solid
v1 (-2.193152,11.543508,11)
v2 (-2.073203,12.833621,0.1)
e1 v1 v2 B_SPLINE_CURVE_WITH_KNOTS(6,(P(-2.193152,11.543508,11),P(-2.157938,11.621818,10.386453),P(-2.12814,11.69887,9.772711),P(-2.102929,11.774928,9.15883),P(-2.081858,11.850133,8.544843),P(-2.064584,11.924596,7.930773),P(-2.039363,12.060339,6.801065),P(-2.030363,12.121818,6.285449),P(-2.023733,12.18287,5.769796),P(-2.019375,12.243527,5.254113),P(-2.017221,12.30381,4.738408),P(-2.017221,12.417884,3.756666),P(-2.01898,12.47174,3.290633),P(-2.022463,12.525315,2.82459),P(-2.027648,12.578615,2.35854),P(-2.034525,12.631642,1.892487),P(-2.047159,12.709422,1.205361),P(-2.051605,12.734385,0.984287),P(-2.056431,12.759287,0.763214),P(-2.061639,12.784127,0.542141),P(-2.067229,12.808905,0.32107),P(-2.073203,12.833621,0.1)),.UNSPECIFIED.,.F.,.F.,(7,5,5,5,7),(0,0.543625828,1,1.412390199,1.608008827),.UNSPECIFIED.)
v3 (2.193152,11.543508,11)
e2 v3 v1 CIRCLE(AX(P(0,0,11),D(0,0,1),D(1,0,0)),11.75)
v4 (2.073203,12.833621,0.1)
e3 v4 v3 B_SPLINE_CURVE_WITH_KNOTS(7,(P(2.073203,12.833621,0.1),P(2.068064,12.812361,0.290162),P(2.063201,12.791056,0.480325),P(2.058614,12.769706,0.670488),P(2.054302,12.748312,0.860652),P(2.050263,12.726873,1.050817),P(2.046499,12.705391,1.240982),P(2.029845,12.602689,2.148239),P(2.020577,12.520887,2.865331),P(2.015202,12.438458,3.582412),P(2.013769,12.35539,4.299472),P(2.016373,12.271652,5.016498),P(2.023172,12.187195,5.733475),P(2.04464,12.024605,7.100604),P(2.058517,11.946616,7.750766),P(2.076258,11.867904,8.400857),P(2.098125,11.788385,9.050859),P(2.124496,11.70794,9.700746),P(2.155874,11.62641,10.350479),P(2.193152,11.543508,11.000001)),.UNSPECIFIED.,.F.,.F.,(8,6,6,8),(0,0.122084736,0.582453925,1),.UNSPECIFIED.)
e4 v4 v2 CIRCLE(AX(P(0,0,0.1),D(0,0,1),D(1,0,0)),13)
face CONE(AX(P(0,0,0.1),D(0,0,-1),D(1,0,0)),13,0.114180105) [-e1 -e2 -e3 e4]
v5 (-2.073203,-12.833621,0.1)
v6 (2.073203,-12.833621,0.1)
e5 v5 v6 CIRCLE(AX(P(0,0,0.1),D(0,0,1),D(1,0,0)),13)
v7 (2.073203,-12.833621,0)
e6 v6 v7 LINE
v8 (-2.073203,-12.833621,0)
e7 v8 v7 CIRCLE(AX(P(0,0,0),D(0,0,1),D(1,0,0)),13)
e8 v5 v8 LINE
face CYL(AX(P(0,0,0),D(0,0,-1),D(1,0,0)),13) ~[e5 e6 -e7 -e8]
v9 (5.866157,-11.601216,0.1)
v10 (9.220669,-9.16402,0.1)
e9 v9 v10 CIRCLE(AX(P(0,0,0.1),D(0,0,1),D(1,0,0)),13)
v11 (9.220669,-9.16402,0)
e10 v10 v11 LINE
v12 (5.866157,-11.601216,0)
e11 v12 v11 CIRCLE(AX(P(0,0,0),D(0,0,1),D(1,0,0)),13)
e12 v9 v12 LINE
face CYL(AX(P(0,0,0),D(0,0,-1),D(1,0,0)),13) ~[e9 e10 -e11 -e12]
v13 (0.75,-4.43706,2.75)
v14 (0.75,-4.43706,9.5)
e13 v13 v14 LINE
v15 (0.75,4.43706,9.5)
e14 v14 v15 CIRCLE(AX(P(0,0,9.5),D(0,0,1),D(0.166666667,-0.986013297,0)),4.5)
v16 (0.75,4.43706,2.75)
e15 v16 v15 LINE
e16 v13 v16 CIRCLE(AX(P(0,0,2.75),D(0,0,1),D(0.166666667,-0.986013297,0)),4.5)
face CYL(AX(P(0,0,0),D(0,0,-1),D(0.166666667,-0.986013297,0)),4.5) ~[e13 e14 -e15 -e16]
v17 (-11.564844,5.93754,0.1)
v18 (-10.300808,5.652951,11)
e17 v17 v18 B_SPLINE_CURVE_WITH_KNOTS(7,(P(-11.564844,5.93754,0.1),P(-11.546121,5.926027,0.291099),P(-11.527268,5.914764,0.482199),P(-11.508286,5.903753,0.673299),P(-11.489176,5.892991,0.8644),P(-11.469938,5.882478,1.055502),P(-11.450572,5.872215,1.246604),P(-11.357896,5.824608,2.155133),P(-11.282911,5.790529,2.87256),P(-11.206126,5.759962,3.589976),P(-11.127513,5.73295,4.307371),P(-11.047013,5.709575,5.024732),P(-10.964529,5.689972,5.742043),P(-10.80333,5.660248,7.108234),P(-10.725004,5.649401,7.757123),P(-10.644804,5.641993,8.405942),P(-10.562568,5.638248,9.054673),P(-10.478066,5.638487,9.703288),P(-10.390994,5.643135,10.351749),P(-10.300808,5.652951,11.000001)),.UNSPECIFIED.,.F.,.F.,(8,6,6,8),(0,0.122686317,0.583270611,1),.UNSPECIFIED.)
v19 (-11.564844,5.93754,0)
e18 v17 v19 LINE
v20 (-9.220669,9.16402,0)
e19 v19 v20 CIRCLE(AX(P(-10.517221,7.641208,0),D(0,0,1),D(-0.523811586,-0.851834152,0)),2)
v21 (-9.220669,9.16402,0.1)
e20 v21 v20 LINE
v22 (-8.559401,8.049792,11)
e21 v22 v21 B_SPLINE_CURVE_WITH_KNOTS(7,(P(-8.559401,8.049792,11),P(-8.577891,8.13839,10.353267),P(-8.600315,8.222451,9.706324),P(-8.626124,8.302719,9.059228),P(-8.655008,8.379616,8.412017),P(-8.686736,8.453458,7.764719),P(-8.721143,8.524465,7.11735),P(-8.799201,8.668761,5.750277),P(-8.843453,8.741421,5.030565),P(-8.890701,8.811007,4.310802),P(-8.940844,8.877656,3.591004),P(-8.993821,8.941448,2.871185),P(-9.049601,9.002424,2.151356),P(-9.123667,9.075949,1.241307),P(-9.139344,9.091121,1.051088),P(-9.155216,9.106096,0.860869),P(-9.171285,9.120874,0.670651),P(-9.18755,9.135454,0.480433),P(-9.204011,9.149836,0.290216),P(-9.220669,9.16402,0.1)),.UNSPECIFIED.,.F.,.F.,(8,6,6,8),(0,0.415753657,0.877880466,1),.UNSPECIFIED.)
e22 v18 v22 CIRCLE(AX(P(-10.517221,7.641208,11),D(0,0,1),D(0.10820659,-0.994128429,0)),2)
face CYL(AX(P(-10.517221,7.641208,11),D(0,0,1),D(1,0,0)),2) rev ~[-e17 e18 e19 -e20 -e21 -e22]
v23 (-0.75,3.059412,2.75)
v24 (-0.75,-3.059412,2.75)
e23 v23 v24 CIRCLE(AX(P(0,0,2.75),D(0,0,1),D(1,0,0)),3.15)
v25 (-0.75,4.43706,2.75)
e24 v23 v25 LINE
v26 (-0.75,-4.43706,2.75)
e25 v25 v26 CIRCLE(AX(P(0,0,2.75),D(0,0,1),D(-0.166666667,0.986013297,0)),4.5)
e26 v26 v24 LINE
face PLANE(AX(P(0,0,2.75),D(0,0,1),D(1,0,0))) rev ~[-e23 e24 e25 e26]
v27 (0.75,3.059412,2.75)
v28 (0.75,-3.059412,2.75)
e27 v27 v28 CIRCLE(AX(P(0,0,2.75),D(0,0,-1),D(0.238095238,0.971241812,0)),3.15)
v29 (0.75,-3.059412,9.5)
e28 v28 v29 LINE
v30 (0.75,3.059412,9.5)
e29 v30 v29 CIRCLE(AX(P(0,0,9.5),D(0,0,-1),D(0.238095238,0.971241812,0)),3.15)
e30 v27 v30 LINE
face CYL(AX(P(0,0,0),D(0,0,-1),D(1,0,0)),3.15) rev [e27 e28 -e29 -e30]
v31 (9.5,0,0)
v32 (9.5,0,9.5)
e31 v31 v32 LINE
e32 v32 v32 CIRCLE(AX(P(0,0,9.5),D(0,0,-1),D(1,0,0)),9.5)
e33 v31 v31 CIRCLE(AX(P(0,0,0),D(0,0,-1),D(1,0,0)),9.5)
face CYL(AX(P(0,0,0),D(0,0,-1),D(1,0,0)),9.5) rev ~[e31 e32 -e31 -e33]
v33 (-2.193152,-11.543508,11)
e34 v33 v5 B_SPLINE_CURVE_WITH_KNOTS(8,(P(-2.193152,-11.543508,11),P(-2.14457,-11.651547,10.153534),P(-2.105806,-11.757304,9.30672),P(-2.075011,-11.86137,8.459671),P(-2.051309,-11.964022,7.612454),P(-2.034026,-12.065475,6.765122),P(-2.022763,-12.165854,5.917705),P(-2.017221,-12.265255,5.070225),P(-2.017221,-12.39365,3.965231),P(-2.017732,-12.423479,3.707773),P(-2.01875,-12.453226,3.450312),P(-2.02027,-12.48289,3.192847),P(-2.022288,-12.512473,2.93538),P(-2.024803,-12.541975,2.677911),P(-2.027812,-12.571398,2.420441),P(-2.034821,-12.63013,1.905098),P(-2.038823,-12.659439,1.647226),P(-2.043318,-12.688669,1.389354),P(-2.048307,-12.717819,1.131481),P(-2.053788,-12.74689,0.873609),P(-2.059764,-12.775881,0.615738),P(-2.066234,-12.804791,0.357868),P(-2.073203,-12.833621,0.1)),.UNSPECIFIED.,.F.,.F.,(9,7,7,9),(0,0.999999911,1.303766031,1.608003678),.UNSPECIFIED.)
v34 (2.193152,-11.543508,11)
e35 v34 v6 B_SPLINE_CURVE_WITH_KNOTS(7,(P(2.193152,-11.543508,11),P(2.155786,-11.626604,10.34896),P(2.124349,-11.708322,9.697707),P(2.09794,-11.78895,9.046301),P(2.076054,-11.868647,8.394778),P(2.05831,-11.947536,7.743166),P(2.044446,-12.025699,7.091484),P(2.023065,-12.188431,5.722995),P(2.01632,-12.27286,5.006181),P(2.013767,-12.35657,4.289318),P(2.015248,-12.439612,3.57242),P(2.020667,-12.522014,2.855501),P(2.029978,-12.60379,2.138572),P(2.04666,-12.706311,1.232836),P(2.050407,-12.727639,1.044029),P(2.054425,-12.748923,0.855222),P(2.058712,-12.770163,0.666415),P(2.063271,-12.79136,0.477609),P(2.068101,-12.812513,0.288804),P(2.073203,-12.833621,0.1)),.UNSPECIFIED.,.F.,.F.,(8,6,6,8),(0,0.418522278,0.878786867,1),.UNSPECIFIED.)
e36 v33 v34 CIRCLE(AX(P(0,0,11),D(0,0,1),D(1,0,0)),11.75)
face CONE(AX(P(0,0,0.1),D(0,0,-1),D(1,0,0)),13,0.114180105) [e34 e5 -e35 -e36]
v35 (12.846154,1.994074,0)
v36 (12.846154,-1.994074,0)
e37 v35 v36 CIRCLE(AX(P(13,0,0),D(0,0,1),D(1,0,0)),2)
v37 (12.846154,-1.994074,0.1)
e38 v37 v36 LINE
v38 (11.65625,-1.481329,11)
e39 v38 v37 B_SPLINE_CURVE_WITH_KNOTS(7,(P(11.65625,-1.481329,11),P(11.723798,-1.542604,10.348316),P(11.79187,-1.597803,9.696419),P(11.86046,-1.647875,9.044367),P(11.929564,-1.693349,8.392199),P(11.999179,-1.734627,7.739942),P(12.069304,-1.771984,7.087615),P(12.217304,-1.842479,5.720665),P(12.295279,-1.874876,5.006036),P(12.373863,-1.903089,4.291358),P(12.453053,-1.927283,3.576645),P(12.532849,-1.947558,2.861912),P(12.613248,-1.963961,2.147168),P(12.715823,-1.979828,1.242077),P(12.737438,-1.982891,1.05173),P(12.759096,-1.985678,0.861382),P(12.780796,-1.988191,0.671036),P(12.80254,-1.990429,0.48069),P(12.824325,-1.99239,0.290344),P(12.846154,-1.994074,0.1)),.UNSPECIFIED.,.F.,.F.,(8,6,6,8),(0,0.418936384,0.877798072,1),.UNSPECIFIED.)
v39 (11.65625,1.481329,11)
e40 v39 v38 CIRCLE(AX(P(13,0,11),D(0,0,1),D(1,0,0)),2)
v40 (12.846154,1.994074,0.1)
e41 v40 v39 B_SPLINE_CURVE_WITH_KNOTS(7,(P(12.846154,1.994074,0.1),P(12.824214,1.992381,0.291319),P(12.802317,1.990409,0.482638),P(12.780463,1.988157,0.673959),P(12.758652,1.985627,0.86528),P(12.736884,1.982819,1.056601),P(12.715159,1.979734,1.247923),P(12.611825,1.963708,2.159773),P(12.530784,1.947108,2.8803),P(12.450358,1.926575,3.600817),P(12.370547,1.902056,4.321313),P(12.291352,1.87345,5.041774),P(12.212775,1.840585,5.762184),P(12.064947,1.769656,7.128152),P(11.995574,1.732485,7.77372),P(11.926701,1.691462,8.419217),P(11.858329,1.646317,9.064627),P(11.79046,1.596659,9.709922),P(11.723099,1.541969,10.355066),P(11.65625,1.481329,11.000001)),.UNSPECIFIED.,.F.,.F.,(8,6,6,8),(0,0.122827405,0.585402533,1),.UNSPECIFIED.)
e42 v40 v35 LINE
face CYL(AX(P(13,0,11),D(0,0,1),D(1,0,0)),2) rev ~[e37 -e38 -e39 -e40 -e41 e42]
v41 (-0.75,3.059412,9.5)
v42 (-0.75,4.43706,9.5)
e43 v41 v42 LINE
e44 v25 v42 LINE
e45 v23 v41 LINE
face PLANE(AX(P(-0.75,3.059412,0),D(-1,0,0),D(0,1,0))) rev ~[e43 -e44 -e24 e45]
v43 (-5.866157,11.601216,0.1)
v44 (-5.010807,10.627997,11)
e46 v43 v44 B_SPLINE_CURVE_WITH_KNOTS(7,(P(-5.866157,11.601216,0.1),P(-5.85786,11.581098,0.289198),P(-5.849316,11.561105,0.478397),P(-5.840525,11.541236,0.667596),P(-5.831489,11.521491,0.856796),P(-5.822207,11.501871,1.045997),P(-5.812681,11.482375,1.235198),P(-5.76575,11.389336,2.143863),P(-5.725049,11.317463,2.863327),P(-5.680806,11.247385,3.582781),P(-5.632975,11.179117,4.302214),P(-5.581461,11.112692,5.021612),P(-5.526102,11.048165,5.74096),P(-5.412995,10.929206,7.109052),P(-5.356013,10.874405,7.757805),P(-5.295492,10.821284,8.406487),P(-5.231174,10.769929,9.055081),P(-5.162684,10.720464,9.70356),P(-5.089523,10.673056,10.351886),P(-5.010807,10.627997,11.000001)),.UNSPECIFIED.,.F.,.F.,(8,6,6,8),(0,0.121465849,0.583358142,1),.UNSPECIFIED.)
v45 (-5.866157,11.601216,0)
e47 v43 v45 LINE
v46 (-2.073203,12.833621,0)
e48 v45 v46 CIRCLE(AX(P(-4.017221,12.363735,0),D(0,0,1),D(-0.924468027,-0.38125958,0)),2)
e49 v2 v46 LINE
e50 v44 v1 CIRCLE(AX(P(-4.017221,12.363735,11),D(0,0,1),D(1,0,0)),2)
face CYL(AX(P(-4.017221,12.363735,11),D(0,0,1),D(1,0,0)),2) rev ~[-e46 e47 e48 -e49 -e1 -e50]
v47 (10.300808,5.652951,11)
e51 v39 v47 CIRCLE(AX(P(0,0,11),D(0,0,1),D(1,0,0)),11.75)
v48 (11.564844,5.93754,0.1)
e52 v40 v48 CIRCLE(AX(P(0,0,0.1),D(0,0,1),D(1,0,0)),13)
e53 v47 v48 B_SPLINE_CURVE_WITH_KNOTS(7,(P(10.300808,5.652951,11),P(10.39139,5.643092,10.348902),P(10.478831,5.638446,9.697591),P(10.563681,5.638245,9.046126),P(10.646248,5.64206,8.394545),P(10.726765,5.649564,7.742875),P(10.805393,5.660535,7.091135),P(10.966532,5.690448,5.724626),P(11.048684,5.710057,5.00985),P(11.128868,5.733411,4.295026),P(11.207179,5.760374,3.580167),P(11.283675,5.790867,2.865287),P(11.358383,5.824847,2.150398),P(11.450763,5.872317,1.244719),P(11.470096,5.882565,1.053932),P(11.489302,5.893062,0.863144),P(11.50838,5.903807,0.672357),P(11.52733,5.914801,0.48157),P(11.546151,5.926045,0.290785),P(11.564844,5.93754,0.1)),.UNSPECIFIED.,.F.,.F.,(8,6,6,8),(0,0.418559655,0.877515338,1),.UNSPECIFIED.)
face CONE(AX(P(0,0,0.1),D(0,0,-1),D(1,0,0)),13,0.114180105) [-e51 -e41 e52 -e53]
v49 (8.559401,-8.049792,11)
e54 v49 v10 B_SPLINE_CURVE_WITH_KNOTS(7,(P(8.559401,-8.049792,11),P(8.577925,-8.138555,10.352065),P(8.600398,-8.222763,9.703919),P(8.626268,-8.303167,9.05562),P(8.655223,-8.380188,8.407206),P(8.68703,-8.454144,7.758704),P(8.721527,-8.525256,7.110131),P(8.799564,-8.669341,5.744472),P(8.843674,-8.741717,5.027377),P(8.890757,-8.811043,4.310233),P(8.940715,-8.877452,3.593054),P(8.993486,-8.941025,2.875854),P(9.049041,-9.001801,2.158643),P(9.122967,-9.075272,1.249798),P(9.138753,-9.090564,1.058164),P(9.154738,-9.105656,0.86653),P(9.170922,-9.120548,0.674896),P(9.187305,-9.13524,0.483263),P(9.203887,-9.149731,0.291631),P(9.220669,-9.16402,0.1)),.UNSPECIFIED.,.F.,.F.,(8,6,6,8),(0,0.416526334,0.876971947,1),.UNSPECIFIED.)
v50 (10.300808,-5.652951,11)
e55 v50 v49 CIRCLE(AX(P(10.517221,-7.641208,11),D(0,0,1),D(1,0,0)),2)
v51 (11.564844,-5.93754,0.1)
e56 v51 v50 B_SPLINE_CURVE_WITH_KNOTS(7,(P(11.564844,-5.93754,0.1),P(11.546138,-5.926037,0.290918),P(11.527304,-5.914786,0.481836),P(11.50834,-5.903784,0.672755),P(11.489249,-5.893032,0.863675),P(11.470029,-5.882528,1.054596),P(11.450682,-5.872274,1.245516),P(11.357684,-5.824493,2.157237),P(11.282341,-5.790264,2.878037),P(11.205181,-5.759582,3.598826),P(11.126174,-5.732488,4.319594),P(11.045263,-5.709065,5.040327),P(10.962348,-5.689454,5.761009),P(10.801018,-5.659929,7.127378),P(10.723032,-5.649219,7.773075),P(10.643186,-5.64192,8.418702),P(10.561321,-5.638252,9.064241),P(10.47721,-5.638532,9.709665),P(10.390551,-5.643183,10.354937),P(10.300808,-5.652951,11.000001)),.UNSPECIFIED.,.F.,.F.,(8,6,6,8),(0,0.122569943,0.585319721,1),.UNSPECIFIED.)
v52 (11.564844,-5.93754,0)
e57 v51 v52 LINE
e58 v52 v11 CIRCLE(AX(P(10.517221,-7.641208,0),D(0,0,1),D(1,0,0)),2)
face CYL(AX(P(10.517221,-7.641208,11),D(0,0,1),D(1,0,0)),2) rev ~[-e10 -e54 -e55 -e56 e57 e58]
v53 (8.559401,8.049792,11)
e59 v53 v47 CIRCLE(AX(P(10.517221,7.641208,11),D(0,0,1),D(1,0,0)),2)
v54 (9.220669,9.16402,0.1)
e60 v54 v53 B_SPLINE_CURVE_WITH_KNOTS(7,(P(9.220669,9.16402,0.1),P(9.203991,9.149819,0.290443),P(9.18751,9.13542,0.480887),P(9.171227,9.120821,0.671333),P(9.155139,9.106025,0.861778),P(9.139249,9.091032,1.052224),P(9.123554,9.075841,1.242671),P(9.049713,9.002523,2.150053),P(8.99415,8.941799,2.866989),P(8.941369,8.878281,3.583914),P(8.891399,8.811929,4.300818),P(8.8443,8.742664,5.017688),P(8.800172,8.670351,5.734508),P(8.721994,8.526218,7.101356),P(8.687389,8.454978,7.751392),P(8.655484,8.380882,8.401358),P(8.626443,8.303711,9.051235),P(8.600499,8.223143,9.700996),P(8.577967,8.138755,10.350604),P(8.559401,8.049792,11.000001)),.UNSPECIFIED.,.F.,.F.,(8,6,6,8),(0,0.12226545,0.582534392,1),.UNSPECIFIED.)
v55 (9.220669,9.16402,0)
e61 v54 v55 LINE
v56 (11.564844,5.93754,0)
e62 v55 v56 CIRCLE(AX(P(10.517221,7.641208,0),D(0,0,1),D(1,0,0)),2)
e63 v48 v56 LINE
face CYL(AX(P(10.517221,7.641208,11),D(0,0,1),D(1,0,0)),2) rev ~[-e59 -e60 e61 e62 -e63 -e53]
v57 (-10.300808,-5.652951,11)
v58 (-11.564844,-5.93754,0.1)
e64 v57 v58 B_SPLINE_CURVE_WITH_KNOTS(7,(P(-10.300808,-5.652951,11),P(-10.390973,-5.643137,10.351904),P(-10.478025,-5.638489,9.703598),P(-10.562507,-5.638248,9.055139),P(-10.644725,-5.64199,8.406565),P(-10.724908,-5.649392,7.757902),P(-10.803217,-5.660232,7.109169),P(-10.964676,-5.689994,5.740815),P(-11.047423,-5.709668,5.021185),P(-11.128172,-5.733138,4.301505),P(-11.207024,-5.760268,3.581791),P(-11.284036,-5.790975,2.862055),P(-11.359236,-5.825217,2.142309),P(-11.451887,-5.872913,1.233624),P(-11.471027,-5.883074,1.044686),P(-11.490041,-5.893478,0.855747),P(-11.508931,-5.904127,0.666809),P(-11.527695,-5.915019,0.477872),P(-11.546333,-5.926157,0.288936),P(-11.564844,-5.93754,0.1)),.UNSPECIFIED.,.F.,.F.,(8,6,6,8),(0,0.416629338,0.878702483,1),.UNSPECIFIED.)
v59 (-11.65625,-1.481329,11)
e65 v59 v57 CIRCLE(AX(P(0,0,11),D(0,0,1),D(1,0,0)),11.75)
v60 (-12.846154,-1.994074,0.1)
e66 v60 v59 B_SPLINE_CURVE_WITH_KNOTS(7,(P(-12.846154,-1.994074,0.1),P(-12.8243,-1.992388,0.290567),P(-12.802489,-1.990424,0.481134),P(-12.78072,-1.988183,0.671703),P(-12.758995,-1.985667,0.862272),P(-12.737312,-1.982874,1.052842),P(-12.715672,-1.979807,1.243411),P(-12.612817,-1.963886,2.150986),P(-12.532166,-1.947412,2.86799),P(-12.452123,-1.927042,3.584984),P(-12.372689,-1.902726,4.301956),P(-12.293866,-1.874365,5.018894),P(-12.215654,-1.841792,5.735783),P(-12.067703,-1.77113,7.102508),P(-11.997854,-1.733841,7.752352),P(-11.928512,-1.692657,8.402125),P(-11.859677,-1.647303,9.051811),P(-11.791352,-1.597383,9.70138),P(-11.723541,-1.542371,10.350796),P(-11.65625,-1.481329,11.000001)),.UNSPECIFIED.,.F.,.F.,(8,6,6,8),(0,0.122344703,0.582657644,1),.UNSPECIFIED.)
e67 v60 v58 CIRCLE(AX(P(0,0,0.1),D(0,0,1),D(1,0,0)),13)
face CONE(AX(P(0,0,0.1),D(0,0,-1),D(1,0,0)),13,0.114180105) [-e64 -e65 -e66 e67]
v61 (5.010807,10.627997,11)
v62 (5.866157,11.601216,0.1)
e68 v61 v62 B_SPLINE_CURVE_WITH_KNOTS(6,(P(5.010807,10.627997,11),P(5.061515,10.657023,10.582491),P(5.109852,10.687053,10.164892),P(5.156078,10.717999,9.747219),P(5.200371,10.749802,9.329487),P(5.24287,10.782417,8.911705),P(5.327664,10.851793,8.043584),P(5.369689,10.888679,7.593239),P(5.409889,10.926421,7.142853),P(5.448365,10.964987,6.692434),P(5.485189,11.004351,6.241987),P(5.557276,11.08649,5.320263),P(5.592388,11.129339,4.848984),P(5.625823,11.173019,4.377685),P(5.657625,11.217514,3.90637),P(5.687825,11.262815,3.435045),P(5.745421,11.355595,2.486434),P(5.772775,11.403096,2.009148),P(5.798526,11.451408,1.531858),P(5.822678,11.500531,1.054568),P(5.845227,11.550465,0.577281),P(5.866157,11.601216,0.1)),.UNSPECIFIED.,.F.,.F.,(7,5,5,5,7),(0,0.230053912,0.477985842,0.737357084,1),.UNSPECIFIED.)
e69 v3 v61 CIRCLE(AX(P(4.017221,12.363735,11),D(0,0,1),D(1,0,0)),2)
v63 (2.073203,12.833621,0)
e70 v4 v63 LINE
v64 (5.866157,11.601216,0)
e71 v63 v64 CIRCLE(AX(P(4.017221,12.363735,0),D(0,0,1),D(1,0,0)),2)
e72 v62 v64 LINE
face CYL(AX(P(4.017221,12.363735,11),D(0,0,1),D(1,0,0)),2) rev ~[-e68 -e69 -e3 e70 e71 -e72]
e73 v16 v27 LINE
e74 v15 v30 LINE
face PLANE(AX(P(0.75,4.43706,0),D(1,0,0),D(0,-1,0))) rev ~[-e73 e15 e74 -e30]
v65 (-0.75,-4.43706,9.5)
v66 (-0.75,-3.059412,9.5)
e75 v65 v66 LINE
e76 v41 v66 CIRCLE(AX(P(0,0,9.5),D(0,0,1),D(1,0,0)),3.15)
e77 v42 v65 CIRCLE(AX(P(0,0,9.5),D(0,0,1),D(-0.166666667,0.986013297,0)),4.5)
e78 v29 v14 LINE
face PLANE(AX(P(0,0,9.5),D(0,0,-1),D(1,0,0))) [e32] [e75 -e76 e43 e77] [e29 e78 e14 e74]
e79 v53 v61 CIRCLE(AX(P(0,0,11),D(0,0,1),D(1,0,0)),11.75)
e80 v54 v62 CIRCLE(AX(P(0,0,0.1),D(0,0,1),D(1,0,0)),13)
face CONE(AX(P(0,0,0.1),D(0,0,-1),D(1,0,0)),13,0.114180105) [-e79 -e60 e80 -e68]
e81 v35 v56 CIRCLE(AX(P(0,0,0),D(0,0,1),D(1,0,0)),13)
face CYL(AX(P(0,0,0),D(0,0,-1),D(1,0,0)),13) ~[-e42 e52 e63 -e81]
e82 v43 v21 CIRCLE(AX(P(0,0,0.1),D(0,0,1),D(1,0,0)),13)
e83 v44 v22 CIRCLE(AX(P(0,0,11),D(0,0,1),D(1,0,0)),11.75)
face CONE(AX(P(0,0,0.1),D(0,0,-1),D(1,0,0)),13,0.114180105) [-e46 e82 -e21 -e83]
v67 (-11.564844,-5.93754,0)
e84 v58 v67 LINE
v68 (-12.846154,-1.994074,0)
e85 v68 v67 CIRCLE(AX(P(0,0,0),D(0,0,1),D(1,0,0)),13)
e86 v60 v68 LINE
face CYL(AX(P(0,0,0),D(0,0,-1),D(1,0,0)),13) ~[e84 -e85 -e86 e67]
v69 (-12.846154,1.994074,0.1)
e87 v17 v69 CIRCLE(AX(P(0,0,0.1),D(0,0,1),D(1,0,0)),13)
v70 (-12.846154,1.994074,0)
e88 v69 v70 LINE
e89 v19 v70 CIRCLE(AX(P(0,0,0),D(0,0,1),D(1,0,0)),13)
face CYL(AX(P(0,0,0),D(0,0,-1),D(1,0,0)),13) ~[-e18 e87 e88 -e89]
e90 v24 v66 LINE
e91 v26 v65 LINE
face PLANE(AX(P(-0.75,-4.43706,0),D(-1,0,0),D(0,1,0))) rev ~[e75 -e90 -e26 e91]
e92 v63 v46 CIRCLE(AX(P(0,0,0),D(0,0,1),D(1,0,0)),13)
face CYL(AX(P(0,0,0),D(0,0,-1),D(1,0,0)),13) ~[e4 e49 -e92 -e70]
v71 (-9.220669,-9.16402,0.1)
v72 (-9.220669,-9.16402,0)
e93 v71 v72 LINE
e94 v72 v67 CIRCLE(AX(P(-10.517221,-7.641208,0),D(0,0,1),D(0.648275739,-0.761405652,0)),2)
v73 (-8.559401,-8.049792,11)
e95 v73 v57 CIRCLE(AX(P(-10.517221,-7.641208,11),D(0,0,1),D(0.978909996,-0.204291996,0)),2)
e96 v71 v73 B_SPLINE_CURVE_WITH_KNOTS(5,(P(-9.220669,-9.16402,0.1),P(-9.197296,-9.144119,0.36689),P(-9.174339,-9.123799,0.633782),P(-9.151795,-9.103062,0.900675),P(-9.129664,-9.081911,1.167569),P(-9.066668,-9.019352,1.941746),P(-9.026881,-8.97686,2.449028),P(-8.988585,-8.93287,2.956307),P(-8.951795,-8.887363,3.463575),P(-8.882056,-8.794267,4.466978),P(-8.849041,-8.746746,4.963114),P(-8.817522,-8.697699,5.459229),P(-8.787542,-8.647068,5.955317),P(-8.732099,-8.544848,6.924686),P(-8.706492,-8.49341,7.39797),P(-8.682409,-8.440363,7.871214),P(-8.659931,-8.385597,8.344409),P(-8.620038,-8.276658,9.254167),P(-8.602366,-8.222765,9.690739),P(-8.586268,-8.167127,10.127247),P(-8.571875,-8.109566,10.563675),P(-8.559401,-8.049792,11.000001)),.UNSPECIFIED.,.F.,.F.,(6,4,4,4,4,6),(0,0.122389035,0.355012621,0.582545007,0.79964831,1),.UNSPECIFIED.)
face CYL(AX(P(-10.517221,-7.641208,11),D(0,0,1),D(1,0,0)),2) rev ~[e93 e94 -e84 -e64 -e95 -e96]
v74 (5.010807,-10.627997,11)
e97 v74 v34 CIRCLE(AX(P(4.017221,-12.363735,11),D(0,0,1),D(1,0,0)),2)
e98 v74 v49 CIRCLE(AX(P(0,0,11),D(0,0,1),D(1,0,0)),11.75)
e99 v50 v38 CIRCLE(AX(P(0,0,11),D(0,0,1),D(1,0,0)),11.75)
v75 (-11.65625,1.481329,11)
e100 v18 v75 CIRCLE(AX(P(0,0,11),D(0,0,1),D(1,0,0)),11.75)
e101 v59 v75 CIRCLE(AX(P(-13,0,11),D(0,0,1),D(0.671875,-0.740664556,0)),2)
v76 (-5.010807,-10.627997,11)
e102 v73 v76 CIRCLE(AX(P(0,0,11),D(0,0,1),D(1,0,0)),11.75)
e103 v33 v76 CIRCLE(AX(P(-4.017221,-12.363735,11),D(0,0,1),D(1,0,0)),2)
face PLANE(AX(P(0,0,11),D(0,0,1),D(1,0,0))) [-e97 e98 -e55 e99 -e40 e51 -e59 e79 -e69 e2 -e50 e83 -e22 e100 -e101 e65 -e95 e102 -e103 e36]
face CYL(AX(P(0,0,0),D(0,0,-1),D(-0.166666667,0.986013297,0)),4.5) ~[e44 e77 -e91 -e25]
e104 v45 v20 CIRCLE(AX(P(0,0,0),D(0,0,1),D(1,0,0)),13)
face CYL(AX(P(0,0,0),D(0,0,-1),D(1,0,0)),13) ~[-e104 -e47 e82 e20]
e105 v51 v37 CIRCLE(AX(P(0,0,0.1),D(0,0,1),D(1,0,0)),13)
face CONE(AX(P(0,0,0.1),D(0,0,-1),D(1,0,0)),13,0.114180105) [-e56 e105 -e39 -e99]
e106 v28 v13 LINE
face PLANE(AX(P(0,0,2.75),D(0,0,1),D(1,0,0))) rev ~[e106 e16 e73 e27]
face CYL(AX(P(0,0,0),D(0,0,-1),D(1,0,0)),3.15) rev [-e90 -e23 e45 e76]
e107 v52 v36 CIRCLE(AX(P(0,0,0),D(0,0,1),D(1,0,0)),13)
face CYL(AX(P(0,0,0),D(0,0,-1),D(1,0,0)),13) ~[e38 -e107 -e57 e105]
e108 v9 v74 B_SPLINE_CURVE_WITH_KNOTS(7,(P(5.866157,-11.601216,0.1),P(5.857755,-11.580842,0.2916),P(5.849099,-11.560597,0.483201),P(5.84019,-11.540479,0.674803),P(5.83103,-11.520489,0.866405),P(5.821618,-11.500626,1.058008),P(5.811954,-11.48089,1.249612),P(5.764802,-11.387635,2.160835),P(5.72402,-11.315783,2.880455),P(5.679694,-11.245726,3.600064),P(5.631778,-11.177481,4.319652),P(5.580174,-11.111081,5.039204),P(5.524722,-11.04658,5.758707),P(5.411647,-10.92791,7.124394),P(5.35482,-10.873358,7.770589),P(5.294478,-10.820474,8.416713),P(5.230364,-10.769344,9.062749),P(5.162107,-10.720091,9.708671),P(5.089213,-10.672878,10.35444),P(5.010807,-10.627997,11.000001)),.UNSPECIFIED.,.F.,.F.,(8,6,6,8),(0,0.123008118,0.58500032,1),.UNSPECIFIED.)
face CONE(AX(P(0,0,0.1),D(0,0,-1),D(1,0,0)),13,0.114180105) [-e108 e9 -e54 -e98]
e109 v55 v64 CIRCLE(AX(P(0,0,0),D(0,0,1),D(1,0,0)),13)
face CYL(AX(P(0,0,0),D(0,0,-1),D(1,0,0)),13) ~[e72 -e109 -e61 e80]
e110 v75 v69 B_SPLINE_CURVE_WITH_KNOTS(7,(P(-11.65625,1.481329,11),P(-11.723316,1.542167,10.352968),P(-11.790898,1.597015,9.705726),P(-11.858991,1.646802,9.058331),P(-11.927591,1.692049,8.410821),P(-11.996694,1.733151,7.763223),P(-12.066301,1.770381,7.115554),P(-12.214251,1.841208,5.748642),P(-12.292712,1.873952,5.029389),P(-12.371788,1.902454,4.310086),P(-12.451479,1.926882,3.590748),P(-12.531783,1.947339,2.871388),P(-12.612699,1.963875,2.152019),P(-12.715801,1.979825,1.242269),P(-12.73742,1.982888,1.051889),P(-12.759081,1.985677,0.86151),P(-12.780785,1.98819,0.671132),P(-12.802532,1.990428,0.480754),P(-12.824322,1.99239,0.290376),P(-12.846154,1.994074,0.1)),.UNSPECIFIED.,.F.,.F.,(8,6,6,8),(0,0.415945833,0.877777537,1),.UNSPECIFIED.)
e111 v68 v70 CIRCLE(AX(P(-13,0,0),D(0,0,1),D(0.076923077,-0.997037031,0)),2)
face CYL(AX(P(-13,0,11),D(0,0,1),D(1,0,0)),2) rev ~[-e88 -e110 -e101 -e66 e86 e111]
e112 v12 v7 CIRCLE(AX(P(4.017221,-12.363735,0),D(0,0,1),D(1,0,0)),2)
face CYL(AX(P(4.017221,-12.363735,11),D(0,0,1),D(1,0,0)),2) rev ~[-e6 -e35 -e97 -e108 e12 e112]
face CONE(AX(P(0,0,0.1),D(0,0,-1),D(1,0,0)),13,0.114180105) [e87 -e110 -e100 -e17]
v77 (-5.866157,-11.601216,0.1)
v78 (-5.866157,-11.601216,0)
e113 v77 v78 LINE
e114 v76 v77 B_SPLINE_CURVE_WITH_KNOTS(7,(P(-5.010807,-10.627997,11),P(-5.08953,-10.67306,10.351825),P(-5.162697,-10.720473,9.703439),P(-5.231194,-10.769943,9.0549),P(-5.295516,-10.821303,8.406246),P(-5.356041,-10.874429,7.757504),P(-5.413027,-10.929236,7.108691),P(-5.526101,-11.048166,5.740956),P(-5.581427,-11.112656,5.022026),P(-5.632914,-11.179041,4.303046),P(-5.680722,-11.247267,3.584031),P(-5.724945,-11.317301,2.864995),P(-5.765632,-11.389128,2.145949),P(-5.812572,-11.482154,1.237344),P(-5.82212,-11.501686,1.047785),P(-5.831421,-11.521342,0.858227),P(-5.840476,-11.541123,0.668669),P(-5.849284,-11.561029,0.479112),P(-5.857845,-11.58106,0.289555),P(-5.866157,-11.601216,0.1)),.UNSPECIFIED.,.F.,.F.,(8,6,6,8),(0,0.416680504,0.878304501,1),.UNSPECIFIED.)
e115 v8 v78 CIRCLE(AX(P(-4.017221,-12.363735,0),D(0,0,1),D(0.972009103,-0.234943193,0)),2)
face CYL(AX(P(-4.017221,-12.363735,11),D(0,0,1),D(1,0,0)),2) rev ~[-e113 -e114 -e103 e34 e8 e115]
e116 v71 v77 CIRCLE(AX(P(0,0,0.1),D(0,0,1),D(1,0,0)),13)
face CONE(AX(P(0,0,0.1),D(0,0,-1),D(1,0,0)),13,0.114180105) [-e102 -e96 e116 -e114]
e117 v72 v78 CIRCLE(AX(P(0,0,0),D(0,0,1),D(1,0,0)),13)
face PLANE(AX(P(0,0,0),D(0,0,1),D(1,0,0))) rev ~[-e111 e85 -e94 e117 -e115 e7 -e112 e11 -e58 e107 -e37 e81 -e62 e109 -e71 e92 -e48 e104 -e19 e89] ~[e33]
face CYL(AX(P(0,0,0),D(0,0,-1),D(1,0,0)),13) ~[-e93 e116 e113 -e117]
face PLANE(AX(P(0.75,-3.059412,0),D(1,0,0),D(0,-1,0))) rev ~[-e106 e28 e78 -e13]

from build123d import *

# Parameters (mm, degrees)
F0_R      = 13
F0_R_2    = 11.75
F0_R_3    = 3.15
F3_DEPTH  = 0.1
F3_FACE_R = 13
F2_R      = 11.75
F5_DEPTH  = 9.5
F6_R      = 2
F7_DEPTH  = 25
F8_DEPTH  = 11.0010001
F9_R      = 9.5
F10_DEPTH = 9.5
F11_DEPTH = 2.75


with BuildPart() as f3:
    # F0 (on Top) → F3 (new body)
    with BuildSketch(Plane.XY):
        Circle(F0_R)
        Circle(F0_R_2, mode=Mode.SUBTRACT)
        Circle(F0_R_2)
        Circle(F0_R_3, mode=Mode.SUBTRACT)
        Circle(F0_R_3)
    extrude(amount=F3_DEPTH)

    # F3_face (on face) → F4 section 0
    with BuildSketch(Plane.XY.offset(0.1)):
        Circle(F3_FACE_R)
    # F2 (on offset) → F4 section 1
    with BuildSketch(Plane.XY.offset(11)):
        Circle(F2_R)
    loft()

    # F0 (on Top) → F5 (cut)
    with BuildSketch(Plane.XY):
        Circle(F0_R_3)
    extrude(amount=F5_DEPTH, mode=Mode.SUBTRACT)

    # F6 (on face) → F7 (cut)
    with BuildSketch(Plane.XY.offset(11)):
        with Locations((13, 0)):
            Circle(F6_R)
        with Locations((10.5172209269, 7.6412082798)):
            Circle(F6_R)
        with Locations((4.0172209269, 12.3637347118)):
            Circle(F6_R)
        with Locations((-4.0172209269, 12.3637347118)):
            Circle(F6_R)
        with Locations((-10.5172209269, 7.6412082798)):
            Circle(F6_R)
        with Locations((-13, 0)):
            Circle(F6_R)
        with Locations((-10.5172209269, -7.6412082798)):
            Circle(F6_R)
        with Locations((-4.0172209269, -12.3637347118)):
            Circle(F6_R)
        with Locations((4.0172209269, -12.3637347118)):
            Circle(F6_R)
        with Locations((10.5172209269, -7.6412082798)):
            Circle(F6_R)
    extrude(amount=-F7_DEPTH, mode=Mode.SUBTRACT)

    # F6 (on face) → F8 (cut, through all)
    with BuildSketch(Plane.XY.offset(11)):
        with Locations((13, 0)):
            Circle(F6_R)
        with Locations((10.5172209269, 7.6412082798)):
            Circle(F6_R)
        with Locations((4.0172209269, 12.3637347118)):
            Circle(F6_R)
        with Locations((-4.0172209269, 12.3637347118)):
            Circle(F6_R)
        with Locations((-10.5172209269, 7.6412082798)):
            Circle(F6_R)
        with Locations((-13, 0)):
            Circle(F6_R)
        with Locations((-10.5172209269, -7.6412082798)):
            Circle(F6_R)
        with Locations((-4.0172209269, -12.3637347118)):
            Circle(F6_R)
        with Locations((4.0172209269, -12.3637347118)):
            Circle(F6_R)
        with Locations((10.5172209269, -7.6412082798)):
            Circle(F6_R)
    extrude(amount=-F8_DEPTH, mode=Mode.SUBTRACT)

    # F9 (on face) → F10 (cut)
    with BuildSketch(Plane(origin=(0, 0, 0), x_dir=(1, 0, 0), z_dir=(0, 0, -1))):
        Circle(F9_R)
        with BuildLine():
            ThreePointArc((0.75, 4.4370598373), (4.5, 0), (0.75, -4.4370598373))
            Line((0.75, -4.4370598373), (0.75, -3.0594117082))
            ThreePointArc((0.75, -3.0594117082), (0, -3.15), (-0.75, -3.0594117082))
            Line((-0.75, -3.0594117082), (-0.75, -4.4370598373))
            ThreePointArc((-0.75, -4.4370598373), (-4.5, 0), (-0.75, 4.4370598373))
            Line((-0.75, 4.4370598373), (-0.75, 3.0594117082))
            ThreePointArc((-0.75, 3.0594117082), (0, 3.15), (0.75, 3.0594117082))
            Line((0.75, 3.0594117082), (0.75, 4.4370598373))
        make_face(mode=Mode.SUBTRACT)
    extrude(amount=-F10_DEPTH, mode=Mode.SUBTRACT)

    # F11 (cut): faces of the model
    f11_faces = [f3.faces().sort_by_distance(p)[0] for p in [
        (-3.2463392443, 0, 0),
        (0.8463392443, 3.7482357727, 0),
    ]]
    extrude(f11_faces, amount=-F11_DEPTH, mode=Mode.SUBTRACT)


solid = f3.part
